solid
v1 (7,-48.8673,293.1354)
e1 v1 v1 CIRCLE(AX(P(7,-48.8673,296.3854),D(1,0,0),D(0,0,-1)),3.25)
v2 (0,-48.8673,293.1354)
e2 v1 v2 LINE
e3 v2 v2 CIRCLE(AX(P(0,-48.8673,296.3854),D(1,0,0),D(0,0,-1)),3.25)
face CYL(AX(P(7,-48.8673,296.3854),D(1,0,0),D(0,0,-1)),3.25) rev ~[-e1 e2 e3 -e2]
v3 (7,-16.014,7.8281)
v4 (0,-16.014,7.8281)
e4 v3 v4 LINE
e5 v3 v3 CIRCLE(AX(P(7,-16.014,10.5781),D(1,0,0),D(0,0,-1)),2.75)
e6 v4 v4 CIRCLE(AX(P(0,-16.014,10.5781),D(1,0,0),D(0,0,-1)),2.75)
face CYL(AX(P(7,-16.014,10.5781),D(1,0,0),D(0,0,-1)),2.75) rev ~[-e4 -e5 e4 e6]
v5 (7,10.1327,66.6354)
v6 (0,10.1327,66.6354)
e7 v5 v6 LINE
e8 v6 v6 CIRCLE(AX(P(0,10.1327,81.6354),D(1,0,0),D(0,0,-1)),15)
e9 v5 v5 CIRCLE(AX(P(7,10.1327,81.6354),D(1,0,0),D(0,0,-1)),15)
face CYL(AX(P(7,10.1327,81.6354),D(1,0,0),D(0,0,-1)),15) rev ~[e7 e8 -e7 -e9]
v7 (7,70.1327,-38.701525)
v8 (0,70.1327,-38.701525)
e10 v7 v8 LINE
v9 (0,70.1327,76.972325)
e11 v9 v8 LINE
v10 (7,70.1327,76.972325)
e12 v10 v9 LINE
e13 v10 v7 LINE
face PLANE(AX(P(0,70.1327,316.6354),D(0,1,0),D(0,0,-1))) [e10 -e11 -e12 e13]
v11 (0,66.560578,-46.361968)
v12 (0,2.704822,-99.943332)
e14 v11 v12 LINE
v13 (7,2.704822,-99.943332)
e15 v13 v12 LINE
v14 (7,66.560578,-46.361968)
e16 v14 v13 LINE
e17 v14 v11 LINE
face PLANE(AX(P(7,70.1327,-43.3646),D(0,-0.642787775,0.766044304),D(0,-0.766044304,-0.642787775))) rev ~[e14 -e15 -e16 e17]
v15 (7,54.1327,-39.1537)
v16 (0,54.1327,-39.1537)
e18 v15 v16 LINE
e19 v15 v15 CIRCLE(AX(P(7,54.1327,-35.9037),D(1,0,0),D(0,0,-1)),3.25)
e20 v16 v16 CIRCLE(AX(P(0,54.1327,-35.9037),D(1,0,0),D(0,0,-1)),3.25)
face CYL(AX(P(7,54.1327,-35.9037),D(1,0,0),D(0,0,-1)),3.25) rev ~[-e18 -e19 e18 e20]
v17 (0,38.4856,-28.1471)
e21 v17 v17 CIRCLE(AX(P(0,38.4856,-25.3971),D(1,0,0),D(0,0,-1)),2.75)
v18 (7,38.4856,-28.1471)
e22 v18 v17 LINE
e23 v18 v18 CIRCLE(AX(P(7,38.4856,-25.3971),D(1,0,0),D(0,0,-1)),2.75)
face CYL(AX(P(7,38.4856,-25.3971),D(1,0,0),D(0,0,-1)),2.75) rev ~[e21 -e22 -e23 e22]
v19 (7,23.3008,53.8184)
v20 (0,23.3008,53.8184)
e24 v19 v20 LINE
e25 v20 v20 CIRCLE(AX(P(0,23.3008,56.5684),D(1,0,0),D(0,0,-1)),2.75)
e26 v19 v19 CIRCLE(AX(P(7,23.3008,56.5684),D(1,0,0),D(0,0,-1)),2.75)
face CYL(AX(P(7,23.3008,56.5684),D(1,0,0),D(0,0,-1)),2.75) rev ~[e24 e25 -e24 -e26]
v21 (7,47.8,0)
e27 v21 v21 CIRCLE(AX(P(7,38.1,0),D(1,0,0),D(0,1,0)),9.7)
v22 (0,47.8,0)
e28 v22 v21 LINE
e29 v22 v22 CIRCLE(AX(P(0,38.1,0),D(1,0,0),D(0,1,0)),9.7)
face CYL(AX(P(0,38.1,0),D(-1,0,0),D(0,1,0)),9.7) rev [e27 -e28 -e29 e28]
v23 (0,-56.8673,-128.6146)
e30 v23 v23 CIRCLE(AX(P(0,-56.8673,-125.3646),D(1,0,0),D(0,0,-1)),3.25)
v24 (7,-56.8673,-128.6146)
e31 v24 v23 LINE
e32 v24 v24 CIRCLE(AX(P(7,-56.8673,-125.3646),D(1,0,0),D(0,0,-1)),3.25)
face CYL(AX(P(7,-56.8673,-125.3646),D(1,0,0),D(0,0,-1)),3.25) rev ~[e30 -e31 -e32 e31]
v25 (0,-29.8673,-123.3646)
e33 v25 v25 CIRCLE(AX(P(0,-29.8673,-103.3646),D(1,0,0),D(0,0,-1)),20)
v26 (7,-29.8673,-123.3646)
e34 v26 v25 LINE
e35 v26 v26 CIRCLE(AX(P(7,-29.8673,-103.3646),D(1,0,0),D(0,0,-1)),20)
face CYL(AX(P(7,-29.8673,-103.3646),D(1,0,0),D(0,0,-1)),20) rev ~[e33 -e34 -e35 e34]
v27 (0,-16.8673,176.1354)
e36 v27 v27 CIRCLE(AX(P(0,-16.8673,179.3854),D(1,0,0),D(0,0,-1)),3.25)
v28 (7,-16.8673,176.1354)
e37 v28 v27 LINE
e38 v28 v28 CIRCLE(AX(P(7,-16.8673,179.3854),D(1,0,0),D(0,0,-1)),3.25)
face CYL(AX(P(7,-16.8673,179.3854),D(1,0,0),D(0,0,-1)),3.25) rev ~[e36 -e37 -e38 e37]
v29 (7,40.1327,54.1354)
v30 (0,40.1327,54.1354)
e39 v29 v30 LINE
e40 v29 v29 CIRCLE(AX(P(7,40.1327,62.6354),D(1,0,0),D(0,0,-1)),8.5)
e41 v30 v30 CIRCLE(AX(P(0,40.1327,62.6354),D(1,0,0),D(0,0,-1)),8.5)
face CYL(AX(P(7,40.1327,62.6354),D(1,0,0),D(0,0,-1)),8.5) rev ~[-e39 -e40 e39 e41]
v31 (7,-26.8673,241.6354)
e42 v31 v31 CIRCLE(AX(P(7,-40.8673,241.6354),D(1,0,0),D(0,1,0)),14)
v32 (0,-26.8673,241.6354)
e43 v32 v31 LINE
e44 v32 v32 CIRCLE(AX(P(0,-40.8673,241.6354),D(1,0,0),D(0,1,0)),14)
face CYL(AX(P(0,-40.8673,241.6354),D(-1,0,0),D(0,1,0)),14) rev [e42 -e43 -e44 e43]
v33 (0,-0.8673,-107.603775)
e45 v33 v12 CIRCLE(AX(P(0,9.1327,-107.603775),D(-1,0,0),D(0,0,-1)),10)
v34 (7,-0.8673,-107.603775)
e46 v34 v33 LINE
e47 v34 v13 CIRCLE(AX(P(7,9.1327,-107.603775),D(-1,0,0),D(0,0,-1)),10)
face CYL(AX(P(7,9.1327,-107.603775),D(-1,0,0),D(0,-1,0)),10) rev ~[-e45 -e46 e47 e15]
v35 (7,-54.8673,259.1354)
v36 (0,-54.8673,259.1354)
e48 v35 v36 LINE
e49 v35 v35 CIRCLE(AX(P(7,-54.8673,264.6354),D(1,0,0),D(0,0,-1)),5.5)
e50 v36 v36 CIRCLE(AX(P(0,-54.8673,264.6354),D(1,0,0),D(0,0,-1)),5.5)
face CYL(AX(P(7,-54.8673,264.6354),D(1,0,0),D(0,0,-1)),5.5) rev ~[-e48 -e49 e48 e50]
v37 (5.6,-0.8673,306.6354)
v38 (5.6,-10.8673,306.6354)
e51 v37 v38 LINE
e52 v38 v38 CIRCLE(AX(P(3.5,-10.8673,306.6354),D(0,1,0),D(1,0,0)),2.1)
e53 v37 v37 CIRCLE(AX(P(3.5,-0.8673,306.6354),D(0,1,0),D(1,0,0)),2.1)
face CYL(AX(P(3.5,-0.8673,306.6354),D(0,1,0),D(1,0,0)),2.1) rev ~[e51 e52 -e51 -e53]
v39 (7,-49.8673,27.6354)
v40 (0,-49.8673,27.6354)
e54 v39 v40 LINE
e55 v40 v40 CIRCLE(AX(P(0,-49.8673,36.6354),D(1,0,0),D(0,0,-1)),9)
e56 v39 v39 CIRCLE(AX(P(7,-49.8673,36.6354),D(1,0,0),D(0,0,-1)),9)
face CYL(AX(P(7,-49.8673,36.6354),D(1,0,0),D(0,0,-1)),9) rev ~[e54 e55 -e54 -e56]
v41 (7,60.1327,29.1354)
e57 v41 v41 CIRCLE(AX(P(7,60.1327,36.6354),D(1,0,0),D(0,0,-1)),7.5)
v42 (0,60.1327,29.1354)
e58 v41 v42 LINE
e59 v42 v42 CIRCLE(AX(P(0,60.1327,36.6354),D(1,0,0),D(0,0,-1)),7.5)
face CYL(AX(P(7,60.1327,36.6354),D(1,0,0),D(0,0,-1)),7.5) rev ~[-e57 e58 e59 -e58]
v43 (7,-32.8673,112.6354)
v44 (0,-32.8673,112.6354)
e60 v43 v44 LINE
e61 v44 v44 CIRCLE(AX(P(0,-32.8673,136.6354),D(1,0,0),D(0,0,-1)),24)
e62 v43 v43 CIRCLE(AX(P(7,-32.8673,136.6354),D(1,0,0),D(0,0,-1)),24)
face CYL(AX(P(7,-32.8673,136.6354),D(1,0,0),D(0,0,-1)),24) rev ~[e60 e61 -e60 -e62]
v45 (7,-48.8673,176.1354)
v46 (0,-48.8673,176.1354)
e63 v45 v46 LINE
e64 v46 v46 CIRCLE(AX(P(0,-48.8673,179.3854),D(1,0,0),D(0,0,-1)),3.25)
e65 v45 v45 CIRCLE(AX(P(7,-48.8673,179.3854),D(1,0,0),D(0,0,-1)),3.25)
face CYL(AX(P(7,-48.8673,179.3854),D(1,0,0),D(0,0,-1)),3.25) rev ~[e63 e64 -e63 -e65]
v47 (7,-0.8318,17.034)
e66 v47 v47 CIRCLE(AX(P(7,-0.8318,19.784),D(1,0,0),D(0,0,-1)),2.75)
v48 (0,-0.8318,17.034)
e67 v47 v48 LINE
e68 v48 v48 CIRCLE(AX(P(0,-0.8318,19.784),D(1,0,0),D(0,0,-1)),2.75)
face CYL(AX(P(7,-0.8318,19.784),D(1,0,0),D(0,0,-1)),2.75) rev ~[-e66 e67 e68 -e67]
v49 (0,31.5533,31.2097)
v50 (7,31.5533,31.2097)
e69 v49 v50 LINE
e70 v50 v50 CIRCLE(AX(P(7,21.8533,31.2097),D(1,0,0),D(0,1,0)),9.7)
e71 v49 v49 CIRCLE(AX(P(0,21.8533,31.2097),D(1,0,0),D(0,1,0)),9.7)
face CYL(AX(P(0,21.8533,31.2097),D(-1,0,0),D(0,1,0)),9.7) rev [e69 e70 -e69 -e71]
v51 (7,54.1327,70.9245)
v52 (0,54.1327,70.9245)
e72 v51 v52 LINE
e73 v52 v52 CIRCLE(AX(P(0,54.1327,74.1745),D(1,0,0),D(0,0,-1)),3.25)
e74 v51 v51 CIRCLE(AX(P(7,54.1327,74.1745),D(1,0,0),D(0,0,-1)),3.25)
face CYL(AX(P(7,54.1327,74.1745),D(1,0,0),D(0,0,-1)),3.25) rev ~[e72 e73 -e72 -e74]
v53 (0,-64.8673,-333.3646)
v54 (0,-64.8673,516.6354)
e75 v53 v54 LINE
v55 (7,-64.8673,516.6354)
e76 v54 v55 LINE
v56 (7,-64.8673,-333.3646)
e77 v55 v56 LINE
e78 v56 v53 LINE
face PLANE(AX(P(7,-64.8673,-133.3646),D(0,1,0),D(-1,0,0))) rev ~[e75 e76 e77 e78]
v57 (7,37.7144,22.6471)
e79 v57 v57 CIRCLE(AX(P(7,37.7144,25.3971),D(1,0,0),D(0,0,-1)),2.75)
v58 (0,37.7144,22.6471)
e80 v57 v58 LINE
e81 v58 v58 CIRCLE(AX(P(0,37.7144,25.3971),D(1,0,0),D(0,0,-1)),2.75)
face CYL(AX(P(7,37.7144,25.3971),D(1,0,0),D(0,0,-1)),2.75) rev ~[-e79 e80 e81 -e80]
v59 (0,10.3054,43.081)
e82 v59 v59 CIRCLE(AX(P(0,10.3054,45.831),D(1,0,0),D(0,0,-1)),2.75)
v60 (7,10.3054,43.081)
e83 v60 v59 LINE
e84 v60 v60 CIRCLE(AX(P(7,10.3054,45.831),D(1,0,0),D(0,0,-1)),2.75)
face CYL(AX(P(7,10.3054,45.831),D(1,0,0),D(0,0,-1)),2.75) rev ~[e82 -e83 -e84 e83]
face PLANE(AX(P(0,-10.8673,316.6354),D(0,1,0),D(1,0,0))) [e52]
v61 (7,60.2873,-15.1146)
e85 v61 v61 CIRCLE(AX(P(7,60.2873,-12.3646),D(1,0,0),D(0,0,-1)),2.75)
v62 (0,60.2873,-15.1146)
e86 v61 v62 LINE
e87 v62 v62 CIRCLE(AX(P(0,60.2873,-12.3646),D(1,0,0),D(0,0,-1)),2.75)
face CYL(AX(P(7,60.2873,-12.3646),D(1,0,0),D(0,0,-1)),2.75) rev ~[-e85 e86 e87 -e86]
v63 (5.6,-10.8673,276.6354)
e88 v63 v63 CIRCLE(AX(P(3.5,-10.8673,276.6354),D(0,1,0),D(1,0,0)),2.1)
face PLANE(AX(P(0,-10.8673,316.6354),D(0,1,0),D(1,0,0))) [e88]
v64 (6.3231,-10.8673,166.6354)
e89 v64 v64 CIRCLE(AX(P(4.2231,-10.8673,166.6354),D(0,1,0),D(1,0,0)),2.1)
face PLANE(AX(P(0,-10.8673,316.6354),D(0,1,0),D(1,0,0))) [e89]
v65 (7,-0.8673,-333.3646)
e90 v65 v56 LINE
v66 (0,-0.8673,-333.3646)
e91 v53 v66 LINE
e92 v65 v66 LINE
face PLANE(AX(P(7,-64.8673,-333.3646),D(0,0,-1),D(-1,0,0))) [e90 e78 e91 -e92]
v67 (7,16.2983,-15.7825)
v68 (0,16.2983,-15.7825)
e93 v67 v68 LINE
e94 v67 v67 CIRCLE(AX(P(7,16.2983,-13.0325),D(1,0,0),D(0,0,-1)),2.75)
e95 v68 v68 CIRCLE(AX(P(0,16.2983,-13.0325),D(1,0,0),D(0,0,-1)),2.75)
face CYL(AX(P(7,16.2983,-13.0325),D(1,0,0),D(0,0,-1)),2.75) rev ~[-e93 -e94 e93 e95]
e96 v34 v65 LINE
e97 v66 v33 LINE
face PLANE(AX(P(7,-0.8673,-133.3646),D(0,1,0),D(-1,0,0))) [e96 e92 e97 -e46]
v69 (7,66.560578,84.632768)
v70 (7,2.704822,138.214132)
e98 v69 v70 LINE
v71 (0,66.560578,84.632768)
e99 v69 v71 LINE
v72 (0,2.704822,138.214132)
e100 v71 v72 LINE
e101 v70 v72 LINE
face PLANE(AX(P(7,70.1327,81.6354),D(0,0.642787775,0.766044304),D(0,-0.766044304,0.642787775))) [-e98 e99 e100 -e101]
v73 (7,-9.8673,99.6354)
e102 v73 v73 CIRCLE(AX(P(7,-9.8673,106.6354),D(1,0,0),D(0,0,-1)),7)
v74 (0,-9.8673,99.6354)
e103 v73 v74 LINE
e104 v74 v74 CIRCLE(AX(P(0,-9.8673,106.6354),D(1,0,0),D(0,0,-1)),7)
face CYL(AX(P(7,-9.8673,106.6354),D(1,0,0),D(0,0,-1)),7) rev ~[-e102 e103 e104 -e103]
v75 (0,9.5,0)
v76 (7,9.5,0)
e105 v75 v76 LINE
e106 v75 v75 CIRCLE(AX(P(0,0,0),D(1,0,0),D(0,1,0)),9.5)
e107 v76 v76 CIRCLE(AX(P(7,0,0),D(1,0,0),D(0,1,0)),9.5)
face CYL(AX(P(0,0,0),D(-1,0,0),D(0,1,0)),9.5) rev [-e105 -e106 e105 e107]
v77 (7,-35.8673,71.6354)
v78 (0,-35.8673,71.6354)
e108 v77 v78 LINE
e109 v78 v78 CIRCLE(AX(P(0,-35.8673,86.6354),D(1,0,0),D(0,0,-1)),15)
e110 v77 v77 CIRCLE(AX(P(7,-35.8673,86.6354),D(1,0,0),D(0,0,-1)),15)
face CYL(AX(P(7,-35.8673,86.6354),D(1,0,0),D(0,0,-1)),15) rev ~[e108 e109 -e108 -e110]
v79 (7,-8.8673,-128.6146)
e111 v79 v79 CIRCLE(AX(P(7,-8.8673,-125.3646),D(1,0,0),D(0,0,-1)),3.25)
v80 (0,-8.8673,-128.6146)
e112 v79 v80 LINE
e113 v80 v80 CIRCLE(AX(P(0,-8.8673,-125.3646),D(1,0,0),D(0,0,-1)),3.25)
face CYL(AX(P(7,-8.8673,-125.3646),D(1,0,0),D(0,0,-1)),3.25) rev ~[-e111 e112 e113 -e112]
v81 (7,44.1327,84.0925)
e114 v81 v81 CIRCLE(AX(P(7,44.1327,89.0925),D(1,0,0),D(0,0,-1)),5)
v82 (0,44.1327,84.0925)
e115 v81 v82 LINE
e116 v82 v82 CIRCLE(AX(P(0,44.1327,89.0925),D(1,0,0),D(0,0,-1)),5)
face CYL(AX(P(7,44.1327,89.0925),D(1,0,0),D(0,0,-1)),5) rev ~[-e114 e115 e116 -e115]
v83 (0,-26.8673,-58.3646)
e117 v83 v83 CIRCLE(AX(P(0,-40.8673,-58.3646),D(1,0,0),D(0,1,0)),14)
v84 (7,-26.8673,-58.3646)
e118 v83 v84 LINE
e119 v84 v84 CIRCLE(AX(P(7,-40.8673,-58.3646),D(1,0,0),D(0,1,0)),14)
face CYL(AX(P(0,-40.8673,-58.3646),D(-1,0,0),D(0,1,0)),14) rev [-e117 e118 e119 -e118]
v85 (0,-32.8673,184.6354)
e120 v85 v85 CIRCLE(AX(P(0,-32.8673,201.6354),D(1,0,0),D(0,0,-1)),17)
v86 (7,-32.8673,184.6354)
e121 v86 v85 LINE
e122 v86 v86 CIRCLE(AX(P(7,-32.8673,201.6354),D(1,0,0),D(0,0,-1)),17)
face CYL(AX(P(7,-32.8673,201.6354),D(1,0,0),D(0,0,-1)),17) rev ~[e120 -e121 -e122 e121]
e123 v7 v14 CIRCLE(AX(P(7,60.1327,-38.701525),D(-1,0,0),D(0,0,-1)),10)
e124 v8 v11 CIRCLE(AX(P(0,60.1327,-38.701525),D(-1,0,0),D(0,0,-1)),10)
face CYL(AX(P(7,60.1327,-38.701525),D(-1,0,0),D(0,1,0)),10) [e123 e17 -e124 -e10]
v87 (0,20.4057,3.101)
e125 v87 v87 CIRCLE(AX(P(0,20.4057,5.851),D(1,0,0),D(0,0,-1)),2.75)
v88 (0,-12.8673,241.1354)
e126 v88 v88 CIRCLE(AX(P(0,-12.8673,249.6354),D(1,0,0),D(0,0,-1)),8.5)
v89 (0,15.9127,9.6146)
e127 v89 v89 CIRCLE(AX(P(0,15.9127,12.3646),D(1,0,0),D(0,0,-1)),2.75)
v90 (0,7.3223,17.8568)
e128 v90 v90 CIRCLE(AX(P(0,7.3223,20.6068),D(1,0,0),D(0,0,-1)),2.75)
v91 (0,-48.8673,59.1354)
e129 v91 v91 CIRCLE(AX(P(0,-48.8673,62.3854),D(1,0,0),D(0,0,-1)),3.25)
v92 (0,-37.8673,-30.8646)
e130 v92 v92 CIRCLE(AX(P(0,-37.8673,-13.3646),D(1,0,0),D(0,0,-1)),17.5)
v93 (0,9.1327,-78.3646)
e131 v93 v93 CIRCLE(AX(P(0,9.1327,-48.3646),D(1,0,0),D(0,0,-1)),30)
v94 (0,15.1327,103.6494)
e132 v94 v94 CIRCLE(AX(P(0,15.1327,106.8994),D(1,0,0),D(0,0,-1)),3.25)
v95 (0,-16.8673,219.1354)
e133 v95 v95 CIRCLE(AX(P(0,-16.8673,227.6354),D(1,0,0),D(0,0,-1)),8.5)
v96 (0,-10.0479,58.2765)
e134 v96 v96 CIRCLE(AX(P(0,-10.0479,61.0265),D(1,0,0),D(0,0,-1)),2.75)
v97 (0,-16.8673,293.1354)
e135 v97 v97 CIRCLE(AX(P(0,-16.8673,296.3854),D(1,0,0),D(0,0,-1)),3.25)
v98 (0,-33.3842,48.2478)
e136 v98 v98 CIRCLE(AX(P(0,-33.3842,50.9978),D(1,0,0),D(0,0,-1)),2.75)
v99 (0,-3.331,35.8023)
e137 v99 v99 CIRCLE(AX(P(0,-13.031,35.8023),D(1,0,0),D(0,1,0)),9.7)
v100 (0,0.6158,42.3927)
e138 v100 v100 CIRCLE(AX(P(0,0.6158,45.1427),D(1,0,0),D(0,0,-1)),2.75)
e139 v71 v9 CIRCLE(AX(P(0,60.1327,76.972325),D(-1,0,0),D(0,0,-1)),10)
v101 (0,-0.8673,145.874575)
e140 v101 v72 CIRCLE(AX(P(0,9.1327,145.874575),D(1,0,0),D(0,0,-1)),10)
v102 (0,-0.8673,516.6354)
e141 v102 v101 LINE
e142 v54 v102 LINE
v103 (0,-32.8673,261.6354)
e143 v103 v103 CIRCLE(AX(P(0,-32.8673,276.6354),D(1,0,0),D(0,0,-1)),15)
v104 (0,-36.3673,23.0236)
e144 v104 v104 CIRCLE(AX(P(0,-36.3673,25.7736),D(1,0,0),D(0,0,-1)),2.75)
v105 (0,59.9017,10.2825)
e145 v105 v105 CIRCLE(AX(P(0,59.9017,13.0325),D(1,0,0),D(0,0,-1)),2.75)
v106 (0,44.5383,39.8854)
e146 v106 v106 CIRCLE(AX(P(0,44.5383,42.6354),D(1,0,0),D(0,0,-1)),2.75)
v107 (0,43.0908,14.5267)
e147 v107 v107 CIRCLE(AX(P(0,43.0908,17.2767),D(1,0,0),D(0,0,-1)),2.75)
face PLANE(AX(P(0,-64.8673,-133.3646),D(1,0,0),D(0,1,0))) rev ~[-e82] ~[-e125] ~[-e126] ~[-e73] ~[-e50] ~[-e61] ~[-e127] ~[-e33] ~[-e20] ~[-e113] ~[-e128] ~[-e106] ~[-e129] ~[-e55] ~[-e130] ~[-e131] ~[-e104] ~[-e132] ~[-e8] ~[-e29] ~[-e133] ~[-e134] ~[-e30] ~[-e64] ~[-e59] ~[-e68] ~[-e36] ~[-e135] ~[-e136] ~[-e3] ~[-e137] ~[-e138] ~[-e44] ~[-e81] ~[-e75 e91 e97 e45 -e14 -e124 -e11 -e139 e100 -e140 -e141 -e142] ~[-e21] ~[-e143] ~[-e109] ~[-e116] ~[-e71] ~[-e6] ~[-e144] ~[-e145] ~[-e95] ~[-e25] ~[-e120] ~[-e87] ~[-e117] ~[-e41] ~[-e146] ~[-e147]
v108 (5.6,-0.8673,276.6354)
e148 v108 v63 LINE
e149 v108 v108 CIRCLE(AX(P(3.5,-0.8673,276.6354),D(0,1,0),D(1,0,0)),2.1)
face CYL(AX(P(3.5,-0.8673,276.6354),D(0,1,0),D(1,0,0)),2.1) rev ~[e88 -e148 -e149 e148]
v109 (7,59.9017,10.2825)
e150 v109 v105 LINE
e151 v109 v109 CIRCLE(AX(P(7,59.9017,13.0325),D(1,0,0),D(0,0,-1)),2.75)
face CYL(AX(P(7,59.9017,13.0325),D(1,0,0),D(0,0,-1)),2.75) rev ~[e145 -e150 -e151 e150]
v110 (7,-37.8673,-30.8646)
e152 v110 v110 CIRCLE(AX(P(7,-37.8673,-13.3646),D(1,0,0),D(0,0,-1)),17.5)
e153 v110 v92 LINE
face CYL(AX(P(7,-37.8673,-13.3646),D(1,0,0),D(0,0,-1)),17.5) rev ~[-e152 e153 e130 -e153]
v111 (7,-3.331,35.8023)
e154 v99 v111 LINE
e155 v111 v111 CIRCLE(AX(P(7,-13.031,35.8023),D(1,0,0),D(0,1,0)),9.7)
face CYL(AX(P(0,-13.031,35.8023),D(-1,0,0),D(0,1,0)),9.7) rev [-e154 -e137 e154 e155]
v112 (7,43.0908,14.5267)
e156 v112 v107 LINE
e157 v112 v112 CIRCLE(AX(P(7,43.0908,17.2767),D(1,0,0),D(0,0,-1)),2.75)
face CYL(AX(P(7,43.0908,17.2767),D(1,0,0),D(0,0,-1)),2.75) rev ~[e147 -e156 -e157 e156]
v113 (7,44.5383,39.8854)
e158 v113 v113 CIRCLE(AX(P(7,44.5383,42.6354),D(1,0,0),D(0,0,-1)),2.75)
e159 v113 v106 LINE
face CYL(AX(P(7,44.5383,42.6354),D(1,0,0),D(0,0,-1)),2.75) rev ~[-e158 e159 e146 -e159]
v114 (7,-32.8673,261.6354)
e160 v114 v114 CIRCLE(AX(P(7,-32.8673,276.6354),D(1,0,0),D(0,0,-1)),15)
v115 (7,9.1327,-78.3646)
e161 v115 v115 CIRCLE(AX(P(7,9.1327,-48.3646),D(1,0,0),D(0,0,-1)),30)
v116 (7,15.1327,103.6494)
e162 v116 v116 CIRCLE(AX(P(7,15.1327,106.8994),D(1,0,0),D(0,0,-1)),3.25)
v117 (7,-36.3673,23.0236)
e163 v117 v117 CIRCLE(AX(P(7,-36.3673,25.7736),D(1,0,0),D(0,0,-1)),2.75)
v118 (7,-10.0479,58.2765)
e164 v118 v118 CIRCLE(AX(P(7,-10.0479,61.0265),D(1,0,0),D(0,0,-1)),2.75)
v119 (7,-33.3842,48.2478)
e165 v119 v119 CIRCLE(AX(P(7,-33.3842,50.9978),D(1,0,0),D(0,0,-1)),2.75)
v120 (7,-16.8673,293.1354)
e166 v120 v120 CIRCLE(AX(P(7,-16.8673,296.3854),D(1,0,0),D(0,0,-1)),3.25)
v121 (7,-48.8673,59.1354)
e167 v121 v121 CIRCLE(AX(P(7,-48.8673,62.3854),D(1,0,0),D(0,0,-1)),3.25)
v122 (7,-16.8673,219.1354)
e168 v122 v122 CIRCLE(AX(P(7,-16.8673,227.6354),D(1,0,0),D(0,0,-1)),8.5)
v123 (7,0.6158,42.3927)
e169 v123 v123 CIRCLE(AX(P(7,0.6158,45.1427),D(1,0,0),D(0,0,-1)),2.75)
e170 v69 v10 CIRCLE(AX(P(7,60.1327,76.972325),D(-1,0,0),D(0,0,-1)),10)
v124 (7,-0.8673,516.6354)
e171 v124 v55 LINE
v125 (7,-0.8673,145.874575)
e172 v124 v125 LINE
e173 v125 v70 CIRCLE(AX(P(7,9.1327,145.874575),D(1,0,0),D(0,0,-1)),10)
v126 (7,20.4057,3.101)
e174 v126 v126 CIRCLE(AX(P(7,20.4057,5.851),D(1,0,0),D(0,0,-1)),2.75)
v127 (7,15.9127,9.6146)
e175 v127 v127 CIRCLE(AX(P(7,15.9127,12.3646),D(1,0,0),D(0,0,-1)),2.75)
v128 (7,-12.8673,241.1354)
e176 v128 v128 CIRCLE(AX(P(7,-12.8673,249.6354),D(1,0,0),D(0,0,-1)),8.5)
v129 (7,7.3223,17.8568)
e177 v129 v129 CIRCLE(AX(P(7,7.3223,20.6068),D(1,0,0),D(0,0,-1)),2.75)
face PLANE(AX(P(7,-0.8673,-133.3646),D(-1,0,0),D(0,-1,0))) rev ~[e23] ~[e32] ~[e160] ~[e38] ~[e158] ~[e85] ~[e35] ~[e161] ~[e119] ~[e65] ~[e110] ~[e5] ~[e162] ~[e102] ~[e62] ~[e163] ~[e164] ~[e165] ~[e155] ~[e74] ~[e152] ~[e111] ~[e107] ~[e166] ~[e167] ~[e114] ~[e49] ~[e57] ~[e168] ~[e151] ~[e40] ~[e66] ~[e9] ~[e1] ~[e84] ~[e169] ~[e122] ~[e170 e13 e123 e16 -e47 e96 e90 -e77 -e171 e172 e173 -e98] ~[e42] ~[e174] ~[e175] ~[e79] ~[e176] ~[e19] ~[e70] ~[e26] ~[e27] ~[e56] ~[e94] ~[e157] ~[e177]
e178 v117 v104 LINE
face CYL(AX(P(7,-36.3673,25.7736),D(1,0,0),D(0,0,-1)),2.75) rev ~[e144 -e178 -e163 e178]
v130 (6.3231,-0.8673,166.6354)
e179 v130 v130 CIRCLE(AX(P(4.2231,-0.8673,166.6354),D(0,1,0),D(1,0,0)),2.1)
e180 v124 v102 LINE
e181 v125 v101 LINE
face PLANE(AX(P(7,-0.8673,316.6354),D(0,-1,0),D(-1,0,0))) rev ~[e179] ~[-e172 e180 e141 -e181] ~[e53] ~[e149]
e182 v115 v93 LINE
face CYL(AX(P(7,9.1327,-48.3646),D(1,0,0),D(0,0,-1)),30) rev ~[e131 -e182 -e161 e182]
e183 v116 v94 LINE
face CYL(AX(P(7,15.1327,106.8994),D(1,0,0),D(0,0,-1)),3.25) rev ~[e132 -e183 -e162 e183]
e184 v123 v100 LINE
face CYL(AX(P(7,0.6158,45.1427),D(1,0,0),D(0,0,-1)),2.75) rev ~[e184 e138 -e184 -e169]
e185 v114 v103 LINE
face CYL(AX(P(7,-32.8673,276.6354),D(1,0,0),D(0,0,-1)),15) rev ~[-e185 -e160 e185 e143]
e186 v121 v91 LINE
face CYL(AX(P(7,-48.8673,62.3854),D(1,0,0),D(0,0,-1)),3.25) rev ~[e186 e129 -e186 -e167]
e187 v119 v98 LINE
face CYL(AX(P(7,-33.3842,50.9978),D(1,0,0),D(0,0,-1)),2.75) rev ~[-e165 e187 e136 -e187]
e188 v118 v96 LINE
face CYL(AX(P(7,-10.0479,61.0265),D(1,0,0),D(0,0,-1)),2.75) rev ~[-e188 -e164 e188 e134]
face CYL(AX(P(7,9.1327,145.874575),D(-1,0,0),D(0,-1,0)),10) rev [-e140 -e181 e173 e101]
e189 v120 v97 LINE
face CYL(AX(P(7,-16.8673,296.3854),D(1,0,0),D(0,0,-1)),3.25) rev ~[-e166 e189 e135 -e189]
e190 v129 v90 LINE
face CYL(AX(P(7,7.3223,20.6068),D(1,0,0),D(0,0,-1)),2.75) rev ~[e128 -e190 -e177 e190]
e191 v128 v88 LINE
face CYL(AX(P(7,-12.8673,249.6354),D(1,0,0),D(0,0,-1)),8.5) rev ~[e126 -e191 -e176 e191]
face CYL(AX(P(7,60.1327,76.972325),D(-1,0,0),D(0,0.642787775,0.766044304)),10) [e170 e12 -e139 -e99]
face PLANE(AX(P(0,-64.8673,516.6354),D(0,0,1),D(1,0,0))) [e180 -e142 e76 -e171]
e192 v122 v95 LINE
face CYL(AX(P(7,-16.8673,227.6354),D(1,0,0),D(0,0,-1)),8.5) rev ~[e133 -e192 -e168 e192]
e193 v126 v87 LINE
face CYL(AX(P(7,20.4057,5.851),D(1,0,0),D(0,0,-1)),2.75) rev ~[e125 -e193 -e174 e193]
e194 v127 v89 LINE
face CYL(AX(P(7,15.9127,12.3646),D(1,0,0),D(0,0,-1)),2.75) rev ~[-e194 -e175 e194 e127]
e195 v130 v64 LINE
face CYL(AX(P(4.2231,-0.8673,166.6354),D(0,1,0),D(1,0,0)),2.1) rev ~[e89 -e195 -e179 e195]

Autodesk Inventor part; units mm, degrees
ref_plane "YZ Plane" through (0, 0, 0) normal (1, 0, 0) x (0, 1, 0)
ref_plane "XZ Plane" through (0, 0, 0) normal (0, 1, 0) x (-1, 0, 0)
ref_plane "XY Plane" through (0, 0, 0) normal (0, 0, 1) x (1, 0, 0)
sketch "Sketch1" plane through (0, 0, 0) normal (1, 0, 0) x (0, 1, 0)
  circle A0 centre (0, 0) radius 31.75 construction
  circle A1 centre (38.1, 0) radius 6.35
  circle A2 centre (0, 0) radius 18.75 construction
  circle A3 centre (-40.8673, -58.3646) radius 52.5 construction
  circle A4 centre (-40.8673, -58.3646) radius 75 construction
  line L0 (0, 0) -> (0, -31.75) construction
  line L1 (0, 0) -> (38.1, 0) construction
  line L2 (0, 0) -> (-40.8673, -58.3646) construction
  circle A5 centre (38.1, 0) radius 30 construction
  circle A6 centre (-40.8673, -58.3646) radius 14
  circle A7 centre (-13.031, 35.8023) radius 6.35
  line L3 (0, 0) -> (-13.031, 35.8023) construction
  circle A8 centre (-13.031, 35.8023) radius 30 construction
  circle A9 centre (21.8533, 31.2097) radius 6.35
  line L4 (21.8533, 31.2097) -> (0, 0) construction
  circle A10 centre (21.8533, 31.2097) radius 30 construction
  circle A11 centre (-40.8673, 241.6354) radius 75 construction
  line L5 (-40.8673, 241.6354) -> (-40.8673, -58.3646) construction
  circle A12 centre (-40.8673, 241.6354) radius 14
  circle A13 centre (0, 0) radius 9.5
  line L6 (-64.8673, 316.6354) -> (70.1327, 316.6354)
  line L7 (70.1327, 316.6354) -> (70.1327, -133.3646)
  line L8 (70.1327, -133.3646) -> (-64.8673, -133.3646)
  line L9 (-64.8673, -133.3646) -> (-64.8673, 316.6354)
  circle A14 centre (38.1, 0) radius 25.4 construction
  circle A15 centre (38.1, 0) radius 9.7
  circle A16 centre (21.8533, 31.2097) radius 9.7
  circle A17 centre (-13.031, 35.8023) radius 9.7
  dimension "d0" = 63.5
  dimension "d1" = 12.7
  dimension "d2" = 37.5
  dimension "d3" = 105
  dimension "d4" = 150
  dimension "d5" = 90
  dimension "d6" = 35
  dimension "d7" = 60
  dimension "d8" = 28
  dimension "d9" = 12.7
  dimension "d10" = 60
  dimension "d11" = 200
  dimension "d13" = 12.7
  dimension "d14" = 145
  dimension "d15" = 60
  dimension "d16" = 150
  dimension "d17" = 300
  dimension "d18" = 28
  dimension "d19" = 19
  dimension "d20" = 135
  dimension "d21" = 450
  dimension "d22" = 24
  dimension "d23" = 75
  dimension "d24" = 50.8
  dimension "d25" = 19.4
  dimension "d26" = 19.4
  dimension "d27" = 19.4
extrude "Extrusion1" add sketch "Sketch1" along normal blind 7 contours L6 L7 L8 L9
sketch "Cheese" plane through (7, 0, 0) normal (1, 0, 0) x (0, 0, -1)
  line L0 (-316.6354, 70.1327) -> (-81.6354, 70.1327)
  line L1 (-81.6354, 70.1327) -> (-81.6354, -0.8673)
  line L2 (-81.6354, -0.8673) -> (-316.6354, -0.8673)
  line L3 (-316.6354, -0.8673) -> (-316.6354, 70.1327)
  circle A0 centre (-241.6354, -40.8673) radius 14 projected
  line L4 (-81.6354, 70.1327) -> (-141.2115, -0.8673)
  line L5 (133.3646, 70.1327) -> (-316.6354, 70.1327) projected
  line L6 (133.3646, 70.1327) -> (43.3646, 70.1327)
  line L7 (43.3646, 70.1327) -> (43.3646, -0.8673)
  line L8 (43.3646, -0.8673) -> (133.3646, -0.8673)
  line L9 (133.3646, -0.8673) -> (133.3646, 70.1327)
  circle A1 centre (58.3646, -40.8673) radius 14 projected
  line L10 (43.3646, 70.1327) -> (102.9407, -0.8673)
  circle A2 centre (-241.6354, -40.8673) radius 24
  circle A3 centre (58.3646, -40.8673) radius 24
  line L11 (-296.7727, -10.8673) -> (-252.6928, -10.8673) construction
  line L12 (-81.6354, 70.1327) -> (-141.2115, -0.8673)
  line L13 (-316.6354, 70.1327) -> (-316.6354, -64.8673) projected
  line L14 (-316.6354, -0.8673) -> (-316.6354, 70.1327)
  line L15 (-316.6354, 70.1327) -> (-81.6354, 70.1327)
  line L16 (102.9407, -0.8673) -> (43.3646, 70.1327)
  line L17 (133.3646, 70.1327) -> (43.3646, 70.1327)
  line L18 (133.3646, 70.1327) -> (133.3646, -0.8673)
  line L19 (102.9407, -0.8673) -> (133.3646, -0.8673)
  line L20 (-141.2115, -0.8673) -> (-81.6354, 70.1327)
  line L21 (-316.6354, 70.1327) -> (-81.6354, 70.1327)
  line L22 (-316.6354, 70.1327) -> (-316.6354, -0.8673)
  line L23 (-316.6354, -0.8673) -> (-141.2115, -0.8673)
  line L24 (43.3646, 70.1327) -> (133.3646, 70.1327)
  line L25 (133.3646, -0.8673) -> (133.3646, 70.1327)
  line L26 (43.3646, 70.1327) -> (102.9407, -0.8673)
  line L27 (102.9407, -0.8673) -> (133.3646, -0.8673)
  line L28 (133.3646, -64.8673) -> (133.3646, 70.1327) projected
  point P0 (0, 0)
  dimension "d30" = 40
  dimension "d32" = 40
  dimension "d33" = 71
  dimension "d34" = 71
  dimension "d35" = 40
  dimension "d36" = 90
  dimension "d37" = 40
  dimension "d38" = 48
  dimension "d39" = 48
  dimension "d44" = 125
extrude "Extrusion2" cut sketch "Cheese" against normal blind 7 contours L5 L9 L8 L10 | L0 L4 L2 L3
sketch "Sketch3" plane through (7, 0, 0) normal (1, 0, 0) x (0, 0, -1)
  circle A0 centre (-106.8994, 15.1327) radius 3.25
  circle A1 centre (35.9037, 54.1327) radius 3.25
  circle A2 centre (68.6285, 15.1327) radius 3.25
  circle A3 centre (-296.3854, -16.8673) radius 3.25
  circle A4 centre (-296.3854, -48.8673) radius 3.25
  circle A5 centre (-74.1745, 54.1327) radius 3.25
  line L0 (-316.6354, -0.8673) -> (-316.6354, -64.8673) projected
  line L1 (-316.6354, -64.8673) -> (133.3646, -64.8673) projected
  line L2 (-141.2115, -0.8673) -> (-316.6354, -0.8673) projected
  circle A6 centre (-237.8854, -16.8673) radius 3.25
  circle A7 centre (-237.8854, -48.8673) radius 3.25
  circle A8 centre (-179.3854, -16.8673) radius 3.25
  circle A9 centre (-179.3854, -48.8673) radius 3.25
  circle A10 centre (-120.8854, -16.8673) radius 3.25
  circle A11 centre (-120.8854, -48.8673) radius 3.25
  circle A12 centre (-62.3854, -16.8673) radius 3.25
  circle A13 centre (-62.3854, -48.8673) radius 3.25
  circle A14 centre (-3.8854, -16.8673) radius 3.25
  circle A15 centre (-3.8854, -48.8673) radius 3.25
  circle A16 centre (54.6146, -16.8673) radius 3.25
  circle A17 centre (54.6146, -48.8673) radius 3.25
  circle A18 centre (113.1146, -16.8673) radius 3.25
  circle A19 centre (113.1146, -48.8673) radius 3.25
  line L3 (43.3646, 70.1327) -> (-81.6354, 70.1327) projected
  line L4 (-81.6354, 70.1327) -> (-141.2115, -0.8673) projected
  line L5 (102.9407, -0.8673) -> (43.3646, 70.1327) projected
  line L6 (133.3646, -0.8673) -> (102.9407, -0.8673) projected
  circle A20 centre (125.3646, -56.8673) radius 3.25
  line L7 (133.3646, -64.8673) -> (133.3646, -0.8673) projected
  circle A21 centre (125.3646, -8.8673) radius 3.25
  circle A22 centre (-31.2097, 21.8533) radius 25.4 construction
  circle A23 centre (-31.2097, 21.8533) radius 9.7 projected
  circle A24 centre (0, 38.1) radius 25.4 construction
  circle A25 centre (0, 38.1) radius 9.7 projected
  circle A26 centre (-35.8023, -13.031) radius 25.4 construction
  circle A27 centre (-35.8023, -13.031) radius 9.7 projected
  circle A28 centre (12.3646, 60.2873) radius 2.75
  circle A29 centre (-13.0325, 59.9017) radius 2.75
  circle A30 centre (-25.3971, 37.7144) radius 2.75
  circle A31 centre (-12.3646, 15.9127) radius 2.75
  circle A32 centre (13.0325, 16.2983) radius 2.75
  circle A33 centre (25.3971, 38.4856) radius 2.75
  circle A34 centre (-42.6354, 44.5383) radius 2.75
  circle A35 centre (-56.5684, 23.3008) radius 2.75
  circle A36 centre (-45.1427, 0.6158) radius 2.75
  circle A37 centre (-19.784, -0.8318) radius 2.75
  circle A38 centre (-5.851, 20.4057) radius 2.75
  circle A39 centre (-17.2767, 43.0908) radius 2.75
  circle A40 centre (-25.7736, -36.3673) radius 2.75
  circle A41 centre (-10.5781, -16.014) radius 2.75
  circle A42 centre (-20.6068, 7.3223) radius 2.75
  circle A43 centre (-45.831, 10.3054) radius 2.75
  circle A44 centre (-61.0265, -10.0479) radius 2.75
  circle A45 centre (-50.9978, -33.3842) radius 2.75
  point P0 (0, 0)
  dimension "d33" = 71
  dimension "d34" = 71
  dimension "d182" = 50.8
  dimension "d183" = 50.8
  dimension "d184" = 50.8
  dimension "d47" = 6.5
  dimension "d48" = 6.5
  dimension "d49" = 6.5
  dimension "d52" = 6.5
  dimension "d53" = 6.5
  dimension "d54" = 6.5
  dimension "d55" = 20.25
  dimension "d56" = 20.25
  dimension "d57" = 16
  dimension "d58" = 16
  dimension "d61" = 58.5
  dimension "d66" = 16
  dimension "d67" = 16
  dimension "d68" = 16
  dimension "d69" = 16
  dimension "d70" = 16
  dimension "d71" = 16
  dimension "d72" = 16
  dimension "d73" = 16
  dimension "d91" = 6.5
  dimension "d92" = 8
  dimension "d93" = 8
  dimension "d179" = 6.5
  dimension "d180" = 8
  dimension "d181" = 8
  dimension "d185" = 5.5
  dimension "d188" = 360
  dimension "d190" = 31
  dimension "d191" = 5.5
  dimension "d194" = 360
  dimension "d196" = 39
  dimension "d197" = 5.5
  dimension "d200" = 360
  dimension "d202" = 28.5
extrude "Extrusion3" cut sketch "Sketch3" against normal blind 7 contours A0 | A1 | A3 | A4 | A5 | A8 | A9 | A13 | A20 | A21 | A28 | A29 | A30 | A31 | A32 | A33 | A34 | A35 | A36 | A37 | A38 | A39 | A40 | A41 | A42 | A43 | A44 | A45
sketch "Sketch6" plane through (7, 0, 0) normal (1, 0, 0) x (0, 0, -1)
  circle A0 centre (-81.6354, 10.1327) radius 15
  line L0 (43.3646, 70.1327) -> (-81.6354, 70.1327) projected
  line L1 (133.3646, -64.8673) -> (133.3646, -0.8673) projected
  line L2 (-81.6354, 70.1327) -> (-141.2115, -0.8673) projected
  circle A1 centre (48.3646, 9.1327) radius 30
  line L3 (-316.6354, -64.8673) -> (133.3646, -64.8673) projected
  circle A2 centre (103.3646, -29.8673) radius 20
  circle A3 centre (13.3646, -37.8673) radius 17.5
  circle A4 centre (-136.6354, -32.8673) radius 24
  line L4 (-316.6354, -0.8673) -> (-316.6354, -64.8673) projected
  circle A5 centre (-86.6354, -35.8673) radius 15
  line L5 (-141.2115, -0.8673) -> (-316.6354, -0.8673) projected
  circle A6 centre (-201.6354, -32.8673) radius 17
  circle A7 centre (-276.6354, -32.8673) radius 15
  circle A8 centre (-249.6354, -12.8673) radius 8.5
  circle A9 centre (-227.6354, -16.8673) radius 8.5
  circle A10 centre (-89.0925, 44.1327) radius 5
  circle A11 centre (-264.6354, -54.8673) radius 5.5
  circle A12 centre (-106.6354, -9.8673) radius 7
  circle A13 centre (-36.6354, 60.1327) radius 7.5
  circle A14 centre (-62.6354, 40.1327) radius 8.5
  circle A15 centre (-36.6354, -49.8673) radius 9
  point P0 (0, 0)
  dimension "d123" = 30
  dimension "d124" = 60
  dimension "d125" = 215
  dimension "d129" = 60
  dimension "d130" = 85
  dimension "d131" = 74
  dimension "d132" = 40
  dimension "d133" = 30
  dimension "d134" = 35
  dimension "d136" = 35
  dimension "d137" = 120
  dimension "d138" = 27
  dimension "d144" = 48
  dimension "d145" = 32
  dimension "d146" = 180
  dimension "d147" = 30
  dimension "d148" = 230
  dimension "d149" = 35
  dimension "d156" = 34
  dimension "d157" = 32
  dimension "d158" = 115
  dimension "d159" = 30
  dimension "d160" = 40
  dimension "d161" = 32
  dimension "d162" = 17
  dimension "d163" = 17
  dimension "d164" = 67
  dimension "d165" = 12
  dimension "d166" = 89
  dimension "d167" = 16
  dimension "d168" = 10
  dimension "d169" = 11
  dimension "d170" = 26
  dimension "d171" = 11
  dimension "d172" = 52
  dimension "d173" = 10
  dimension "d176" = 14
  dimension "d177" = 210
  dimension "d178" = 55
  dimension "d203" = 15
  dimension "d204" = 10
  dimension "d205" = 45
  dimension "d206" = 17
  dimension "d207" = 19
  dimension "d208" = 30
  dimension "d209" = 18
  dimension "d210" = 170
  dimension "d211" = 15
extrude "Extrusion4" cut sketch "Sketch6" against normal blind 10
fillet "Fillet2" radius 10 4 edges at (3.5, -0.8673, 141.2115) (3.5, 70.1327, 81.6354) (3.5, 70.1327, -43.3646) (3.5, -0.8673, -102.9407)
sketch "Sketch7" plane through (0, -0.8673, 316.6354) normal (0, 1, 0) x (1, 0, 0)
  circle A0 centre (3.5, 10) radius 2.1
  line L0 (0, 0) -> (0, 170.7608) projected
  line L1 (7, 0) -> (0, 0) projected
  circle A1 centre (3.5, 40) radius 2.1
  circle A2 centre (4.2231, 150) radius 2.1
  point P0 (0, 316.6354)
  dimension "d213" = 4.2
  dimension "d214" = 3.5
  dimension "d215" = 10
  dimension "d221" = 4.2
  dimension "d222" = 3.5
  dimension "d223" = 40
  dimension "d224" = 4.2
  dimension "d225" = 150
extrude "Extrusion5" cut sketch "Sketch7" against normal blind 10
sketch "Sketch8" plane through (0, -64.8673, 316.6354) normal (0, 0, 1) x (1, 0, 0)
  line L0 (0, 0) -> (7, 0) projected
  line L1 (7, 64) -> (0, 64) projected
  line L2 (7, 0) -> (0, 0)
  line L3 (0, 0) -> (0, 64)
  line L4 (0, 64) -> (7, 64)
  line L5 (7, 64) -> (7, 0)
  point P0 (0, 64.8673)
  dimension "d226" = 7
  dimension "d227" = 64
extrude "Front" add sketch "Sketch8" along normal blind 200
sketch "Sketch9" plane through (7, -64.8673, -133.3646) normal (0, 0, -1) x (-1, 0, 0)
  line L0 (0, 64) -> (7, 64) projected
  line L1 (7, 64) -> (0, 64)
  line L2 (0, 64) -> (0, 0)
  line L3 (0, 0) -> (7, 0)
  line L4 (7, 0) -> (7, 64)
  point P0 (7, 64.8673)
  dimension "d230" = 64
  dimension "d231" = 7
extrude "Extrusion7" add sketch "Sketch9" along normal blind 200
equation "\"d9\" = d1"
equation "\"d13\" = d1"
equation "\"d14\" = 0.5 * d5 + 0.5 * d11"
equation "\"d16\" = d4"
equation "\"d18\" = d8"
equation "\"d26\" = d25"
equation "\"d27\" = d25"
equation "\"d34\" = d33"
equation "\"d35\" = d30"
equation "\"d56\" = d55"
equation "\"d58\" = d57"
properties part number "Cheese" material "Aluminum 6061"
